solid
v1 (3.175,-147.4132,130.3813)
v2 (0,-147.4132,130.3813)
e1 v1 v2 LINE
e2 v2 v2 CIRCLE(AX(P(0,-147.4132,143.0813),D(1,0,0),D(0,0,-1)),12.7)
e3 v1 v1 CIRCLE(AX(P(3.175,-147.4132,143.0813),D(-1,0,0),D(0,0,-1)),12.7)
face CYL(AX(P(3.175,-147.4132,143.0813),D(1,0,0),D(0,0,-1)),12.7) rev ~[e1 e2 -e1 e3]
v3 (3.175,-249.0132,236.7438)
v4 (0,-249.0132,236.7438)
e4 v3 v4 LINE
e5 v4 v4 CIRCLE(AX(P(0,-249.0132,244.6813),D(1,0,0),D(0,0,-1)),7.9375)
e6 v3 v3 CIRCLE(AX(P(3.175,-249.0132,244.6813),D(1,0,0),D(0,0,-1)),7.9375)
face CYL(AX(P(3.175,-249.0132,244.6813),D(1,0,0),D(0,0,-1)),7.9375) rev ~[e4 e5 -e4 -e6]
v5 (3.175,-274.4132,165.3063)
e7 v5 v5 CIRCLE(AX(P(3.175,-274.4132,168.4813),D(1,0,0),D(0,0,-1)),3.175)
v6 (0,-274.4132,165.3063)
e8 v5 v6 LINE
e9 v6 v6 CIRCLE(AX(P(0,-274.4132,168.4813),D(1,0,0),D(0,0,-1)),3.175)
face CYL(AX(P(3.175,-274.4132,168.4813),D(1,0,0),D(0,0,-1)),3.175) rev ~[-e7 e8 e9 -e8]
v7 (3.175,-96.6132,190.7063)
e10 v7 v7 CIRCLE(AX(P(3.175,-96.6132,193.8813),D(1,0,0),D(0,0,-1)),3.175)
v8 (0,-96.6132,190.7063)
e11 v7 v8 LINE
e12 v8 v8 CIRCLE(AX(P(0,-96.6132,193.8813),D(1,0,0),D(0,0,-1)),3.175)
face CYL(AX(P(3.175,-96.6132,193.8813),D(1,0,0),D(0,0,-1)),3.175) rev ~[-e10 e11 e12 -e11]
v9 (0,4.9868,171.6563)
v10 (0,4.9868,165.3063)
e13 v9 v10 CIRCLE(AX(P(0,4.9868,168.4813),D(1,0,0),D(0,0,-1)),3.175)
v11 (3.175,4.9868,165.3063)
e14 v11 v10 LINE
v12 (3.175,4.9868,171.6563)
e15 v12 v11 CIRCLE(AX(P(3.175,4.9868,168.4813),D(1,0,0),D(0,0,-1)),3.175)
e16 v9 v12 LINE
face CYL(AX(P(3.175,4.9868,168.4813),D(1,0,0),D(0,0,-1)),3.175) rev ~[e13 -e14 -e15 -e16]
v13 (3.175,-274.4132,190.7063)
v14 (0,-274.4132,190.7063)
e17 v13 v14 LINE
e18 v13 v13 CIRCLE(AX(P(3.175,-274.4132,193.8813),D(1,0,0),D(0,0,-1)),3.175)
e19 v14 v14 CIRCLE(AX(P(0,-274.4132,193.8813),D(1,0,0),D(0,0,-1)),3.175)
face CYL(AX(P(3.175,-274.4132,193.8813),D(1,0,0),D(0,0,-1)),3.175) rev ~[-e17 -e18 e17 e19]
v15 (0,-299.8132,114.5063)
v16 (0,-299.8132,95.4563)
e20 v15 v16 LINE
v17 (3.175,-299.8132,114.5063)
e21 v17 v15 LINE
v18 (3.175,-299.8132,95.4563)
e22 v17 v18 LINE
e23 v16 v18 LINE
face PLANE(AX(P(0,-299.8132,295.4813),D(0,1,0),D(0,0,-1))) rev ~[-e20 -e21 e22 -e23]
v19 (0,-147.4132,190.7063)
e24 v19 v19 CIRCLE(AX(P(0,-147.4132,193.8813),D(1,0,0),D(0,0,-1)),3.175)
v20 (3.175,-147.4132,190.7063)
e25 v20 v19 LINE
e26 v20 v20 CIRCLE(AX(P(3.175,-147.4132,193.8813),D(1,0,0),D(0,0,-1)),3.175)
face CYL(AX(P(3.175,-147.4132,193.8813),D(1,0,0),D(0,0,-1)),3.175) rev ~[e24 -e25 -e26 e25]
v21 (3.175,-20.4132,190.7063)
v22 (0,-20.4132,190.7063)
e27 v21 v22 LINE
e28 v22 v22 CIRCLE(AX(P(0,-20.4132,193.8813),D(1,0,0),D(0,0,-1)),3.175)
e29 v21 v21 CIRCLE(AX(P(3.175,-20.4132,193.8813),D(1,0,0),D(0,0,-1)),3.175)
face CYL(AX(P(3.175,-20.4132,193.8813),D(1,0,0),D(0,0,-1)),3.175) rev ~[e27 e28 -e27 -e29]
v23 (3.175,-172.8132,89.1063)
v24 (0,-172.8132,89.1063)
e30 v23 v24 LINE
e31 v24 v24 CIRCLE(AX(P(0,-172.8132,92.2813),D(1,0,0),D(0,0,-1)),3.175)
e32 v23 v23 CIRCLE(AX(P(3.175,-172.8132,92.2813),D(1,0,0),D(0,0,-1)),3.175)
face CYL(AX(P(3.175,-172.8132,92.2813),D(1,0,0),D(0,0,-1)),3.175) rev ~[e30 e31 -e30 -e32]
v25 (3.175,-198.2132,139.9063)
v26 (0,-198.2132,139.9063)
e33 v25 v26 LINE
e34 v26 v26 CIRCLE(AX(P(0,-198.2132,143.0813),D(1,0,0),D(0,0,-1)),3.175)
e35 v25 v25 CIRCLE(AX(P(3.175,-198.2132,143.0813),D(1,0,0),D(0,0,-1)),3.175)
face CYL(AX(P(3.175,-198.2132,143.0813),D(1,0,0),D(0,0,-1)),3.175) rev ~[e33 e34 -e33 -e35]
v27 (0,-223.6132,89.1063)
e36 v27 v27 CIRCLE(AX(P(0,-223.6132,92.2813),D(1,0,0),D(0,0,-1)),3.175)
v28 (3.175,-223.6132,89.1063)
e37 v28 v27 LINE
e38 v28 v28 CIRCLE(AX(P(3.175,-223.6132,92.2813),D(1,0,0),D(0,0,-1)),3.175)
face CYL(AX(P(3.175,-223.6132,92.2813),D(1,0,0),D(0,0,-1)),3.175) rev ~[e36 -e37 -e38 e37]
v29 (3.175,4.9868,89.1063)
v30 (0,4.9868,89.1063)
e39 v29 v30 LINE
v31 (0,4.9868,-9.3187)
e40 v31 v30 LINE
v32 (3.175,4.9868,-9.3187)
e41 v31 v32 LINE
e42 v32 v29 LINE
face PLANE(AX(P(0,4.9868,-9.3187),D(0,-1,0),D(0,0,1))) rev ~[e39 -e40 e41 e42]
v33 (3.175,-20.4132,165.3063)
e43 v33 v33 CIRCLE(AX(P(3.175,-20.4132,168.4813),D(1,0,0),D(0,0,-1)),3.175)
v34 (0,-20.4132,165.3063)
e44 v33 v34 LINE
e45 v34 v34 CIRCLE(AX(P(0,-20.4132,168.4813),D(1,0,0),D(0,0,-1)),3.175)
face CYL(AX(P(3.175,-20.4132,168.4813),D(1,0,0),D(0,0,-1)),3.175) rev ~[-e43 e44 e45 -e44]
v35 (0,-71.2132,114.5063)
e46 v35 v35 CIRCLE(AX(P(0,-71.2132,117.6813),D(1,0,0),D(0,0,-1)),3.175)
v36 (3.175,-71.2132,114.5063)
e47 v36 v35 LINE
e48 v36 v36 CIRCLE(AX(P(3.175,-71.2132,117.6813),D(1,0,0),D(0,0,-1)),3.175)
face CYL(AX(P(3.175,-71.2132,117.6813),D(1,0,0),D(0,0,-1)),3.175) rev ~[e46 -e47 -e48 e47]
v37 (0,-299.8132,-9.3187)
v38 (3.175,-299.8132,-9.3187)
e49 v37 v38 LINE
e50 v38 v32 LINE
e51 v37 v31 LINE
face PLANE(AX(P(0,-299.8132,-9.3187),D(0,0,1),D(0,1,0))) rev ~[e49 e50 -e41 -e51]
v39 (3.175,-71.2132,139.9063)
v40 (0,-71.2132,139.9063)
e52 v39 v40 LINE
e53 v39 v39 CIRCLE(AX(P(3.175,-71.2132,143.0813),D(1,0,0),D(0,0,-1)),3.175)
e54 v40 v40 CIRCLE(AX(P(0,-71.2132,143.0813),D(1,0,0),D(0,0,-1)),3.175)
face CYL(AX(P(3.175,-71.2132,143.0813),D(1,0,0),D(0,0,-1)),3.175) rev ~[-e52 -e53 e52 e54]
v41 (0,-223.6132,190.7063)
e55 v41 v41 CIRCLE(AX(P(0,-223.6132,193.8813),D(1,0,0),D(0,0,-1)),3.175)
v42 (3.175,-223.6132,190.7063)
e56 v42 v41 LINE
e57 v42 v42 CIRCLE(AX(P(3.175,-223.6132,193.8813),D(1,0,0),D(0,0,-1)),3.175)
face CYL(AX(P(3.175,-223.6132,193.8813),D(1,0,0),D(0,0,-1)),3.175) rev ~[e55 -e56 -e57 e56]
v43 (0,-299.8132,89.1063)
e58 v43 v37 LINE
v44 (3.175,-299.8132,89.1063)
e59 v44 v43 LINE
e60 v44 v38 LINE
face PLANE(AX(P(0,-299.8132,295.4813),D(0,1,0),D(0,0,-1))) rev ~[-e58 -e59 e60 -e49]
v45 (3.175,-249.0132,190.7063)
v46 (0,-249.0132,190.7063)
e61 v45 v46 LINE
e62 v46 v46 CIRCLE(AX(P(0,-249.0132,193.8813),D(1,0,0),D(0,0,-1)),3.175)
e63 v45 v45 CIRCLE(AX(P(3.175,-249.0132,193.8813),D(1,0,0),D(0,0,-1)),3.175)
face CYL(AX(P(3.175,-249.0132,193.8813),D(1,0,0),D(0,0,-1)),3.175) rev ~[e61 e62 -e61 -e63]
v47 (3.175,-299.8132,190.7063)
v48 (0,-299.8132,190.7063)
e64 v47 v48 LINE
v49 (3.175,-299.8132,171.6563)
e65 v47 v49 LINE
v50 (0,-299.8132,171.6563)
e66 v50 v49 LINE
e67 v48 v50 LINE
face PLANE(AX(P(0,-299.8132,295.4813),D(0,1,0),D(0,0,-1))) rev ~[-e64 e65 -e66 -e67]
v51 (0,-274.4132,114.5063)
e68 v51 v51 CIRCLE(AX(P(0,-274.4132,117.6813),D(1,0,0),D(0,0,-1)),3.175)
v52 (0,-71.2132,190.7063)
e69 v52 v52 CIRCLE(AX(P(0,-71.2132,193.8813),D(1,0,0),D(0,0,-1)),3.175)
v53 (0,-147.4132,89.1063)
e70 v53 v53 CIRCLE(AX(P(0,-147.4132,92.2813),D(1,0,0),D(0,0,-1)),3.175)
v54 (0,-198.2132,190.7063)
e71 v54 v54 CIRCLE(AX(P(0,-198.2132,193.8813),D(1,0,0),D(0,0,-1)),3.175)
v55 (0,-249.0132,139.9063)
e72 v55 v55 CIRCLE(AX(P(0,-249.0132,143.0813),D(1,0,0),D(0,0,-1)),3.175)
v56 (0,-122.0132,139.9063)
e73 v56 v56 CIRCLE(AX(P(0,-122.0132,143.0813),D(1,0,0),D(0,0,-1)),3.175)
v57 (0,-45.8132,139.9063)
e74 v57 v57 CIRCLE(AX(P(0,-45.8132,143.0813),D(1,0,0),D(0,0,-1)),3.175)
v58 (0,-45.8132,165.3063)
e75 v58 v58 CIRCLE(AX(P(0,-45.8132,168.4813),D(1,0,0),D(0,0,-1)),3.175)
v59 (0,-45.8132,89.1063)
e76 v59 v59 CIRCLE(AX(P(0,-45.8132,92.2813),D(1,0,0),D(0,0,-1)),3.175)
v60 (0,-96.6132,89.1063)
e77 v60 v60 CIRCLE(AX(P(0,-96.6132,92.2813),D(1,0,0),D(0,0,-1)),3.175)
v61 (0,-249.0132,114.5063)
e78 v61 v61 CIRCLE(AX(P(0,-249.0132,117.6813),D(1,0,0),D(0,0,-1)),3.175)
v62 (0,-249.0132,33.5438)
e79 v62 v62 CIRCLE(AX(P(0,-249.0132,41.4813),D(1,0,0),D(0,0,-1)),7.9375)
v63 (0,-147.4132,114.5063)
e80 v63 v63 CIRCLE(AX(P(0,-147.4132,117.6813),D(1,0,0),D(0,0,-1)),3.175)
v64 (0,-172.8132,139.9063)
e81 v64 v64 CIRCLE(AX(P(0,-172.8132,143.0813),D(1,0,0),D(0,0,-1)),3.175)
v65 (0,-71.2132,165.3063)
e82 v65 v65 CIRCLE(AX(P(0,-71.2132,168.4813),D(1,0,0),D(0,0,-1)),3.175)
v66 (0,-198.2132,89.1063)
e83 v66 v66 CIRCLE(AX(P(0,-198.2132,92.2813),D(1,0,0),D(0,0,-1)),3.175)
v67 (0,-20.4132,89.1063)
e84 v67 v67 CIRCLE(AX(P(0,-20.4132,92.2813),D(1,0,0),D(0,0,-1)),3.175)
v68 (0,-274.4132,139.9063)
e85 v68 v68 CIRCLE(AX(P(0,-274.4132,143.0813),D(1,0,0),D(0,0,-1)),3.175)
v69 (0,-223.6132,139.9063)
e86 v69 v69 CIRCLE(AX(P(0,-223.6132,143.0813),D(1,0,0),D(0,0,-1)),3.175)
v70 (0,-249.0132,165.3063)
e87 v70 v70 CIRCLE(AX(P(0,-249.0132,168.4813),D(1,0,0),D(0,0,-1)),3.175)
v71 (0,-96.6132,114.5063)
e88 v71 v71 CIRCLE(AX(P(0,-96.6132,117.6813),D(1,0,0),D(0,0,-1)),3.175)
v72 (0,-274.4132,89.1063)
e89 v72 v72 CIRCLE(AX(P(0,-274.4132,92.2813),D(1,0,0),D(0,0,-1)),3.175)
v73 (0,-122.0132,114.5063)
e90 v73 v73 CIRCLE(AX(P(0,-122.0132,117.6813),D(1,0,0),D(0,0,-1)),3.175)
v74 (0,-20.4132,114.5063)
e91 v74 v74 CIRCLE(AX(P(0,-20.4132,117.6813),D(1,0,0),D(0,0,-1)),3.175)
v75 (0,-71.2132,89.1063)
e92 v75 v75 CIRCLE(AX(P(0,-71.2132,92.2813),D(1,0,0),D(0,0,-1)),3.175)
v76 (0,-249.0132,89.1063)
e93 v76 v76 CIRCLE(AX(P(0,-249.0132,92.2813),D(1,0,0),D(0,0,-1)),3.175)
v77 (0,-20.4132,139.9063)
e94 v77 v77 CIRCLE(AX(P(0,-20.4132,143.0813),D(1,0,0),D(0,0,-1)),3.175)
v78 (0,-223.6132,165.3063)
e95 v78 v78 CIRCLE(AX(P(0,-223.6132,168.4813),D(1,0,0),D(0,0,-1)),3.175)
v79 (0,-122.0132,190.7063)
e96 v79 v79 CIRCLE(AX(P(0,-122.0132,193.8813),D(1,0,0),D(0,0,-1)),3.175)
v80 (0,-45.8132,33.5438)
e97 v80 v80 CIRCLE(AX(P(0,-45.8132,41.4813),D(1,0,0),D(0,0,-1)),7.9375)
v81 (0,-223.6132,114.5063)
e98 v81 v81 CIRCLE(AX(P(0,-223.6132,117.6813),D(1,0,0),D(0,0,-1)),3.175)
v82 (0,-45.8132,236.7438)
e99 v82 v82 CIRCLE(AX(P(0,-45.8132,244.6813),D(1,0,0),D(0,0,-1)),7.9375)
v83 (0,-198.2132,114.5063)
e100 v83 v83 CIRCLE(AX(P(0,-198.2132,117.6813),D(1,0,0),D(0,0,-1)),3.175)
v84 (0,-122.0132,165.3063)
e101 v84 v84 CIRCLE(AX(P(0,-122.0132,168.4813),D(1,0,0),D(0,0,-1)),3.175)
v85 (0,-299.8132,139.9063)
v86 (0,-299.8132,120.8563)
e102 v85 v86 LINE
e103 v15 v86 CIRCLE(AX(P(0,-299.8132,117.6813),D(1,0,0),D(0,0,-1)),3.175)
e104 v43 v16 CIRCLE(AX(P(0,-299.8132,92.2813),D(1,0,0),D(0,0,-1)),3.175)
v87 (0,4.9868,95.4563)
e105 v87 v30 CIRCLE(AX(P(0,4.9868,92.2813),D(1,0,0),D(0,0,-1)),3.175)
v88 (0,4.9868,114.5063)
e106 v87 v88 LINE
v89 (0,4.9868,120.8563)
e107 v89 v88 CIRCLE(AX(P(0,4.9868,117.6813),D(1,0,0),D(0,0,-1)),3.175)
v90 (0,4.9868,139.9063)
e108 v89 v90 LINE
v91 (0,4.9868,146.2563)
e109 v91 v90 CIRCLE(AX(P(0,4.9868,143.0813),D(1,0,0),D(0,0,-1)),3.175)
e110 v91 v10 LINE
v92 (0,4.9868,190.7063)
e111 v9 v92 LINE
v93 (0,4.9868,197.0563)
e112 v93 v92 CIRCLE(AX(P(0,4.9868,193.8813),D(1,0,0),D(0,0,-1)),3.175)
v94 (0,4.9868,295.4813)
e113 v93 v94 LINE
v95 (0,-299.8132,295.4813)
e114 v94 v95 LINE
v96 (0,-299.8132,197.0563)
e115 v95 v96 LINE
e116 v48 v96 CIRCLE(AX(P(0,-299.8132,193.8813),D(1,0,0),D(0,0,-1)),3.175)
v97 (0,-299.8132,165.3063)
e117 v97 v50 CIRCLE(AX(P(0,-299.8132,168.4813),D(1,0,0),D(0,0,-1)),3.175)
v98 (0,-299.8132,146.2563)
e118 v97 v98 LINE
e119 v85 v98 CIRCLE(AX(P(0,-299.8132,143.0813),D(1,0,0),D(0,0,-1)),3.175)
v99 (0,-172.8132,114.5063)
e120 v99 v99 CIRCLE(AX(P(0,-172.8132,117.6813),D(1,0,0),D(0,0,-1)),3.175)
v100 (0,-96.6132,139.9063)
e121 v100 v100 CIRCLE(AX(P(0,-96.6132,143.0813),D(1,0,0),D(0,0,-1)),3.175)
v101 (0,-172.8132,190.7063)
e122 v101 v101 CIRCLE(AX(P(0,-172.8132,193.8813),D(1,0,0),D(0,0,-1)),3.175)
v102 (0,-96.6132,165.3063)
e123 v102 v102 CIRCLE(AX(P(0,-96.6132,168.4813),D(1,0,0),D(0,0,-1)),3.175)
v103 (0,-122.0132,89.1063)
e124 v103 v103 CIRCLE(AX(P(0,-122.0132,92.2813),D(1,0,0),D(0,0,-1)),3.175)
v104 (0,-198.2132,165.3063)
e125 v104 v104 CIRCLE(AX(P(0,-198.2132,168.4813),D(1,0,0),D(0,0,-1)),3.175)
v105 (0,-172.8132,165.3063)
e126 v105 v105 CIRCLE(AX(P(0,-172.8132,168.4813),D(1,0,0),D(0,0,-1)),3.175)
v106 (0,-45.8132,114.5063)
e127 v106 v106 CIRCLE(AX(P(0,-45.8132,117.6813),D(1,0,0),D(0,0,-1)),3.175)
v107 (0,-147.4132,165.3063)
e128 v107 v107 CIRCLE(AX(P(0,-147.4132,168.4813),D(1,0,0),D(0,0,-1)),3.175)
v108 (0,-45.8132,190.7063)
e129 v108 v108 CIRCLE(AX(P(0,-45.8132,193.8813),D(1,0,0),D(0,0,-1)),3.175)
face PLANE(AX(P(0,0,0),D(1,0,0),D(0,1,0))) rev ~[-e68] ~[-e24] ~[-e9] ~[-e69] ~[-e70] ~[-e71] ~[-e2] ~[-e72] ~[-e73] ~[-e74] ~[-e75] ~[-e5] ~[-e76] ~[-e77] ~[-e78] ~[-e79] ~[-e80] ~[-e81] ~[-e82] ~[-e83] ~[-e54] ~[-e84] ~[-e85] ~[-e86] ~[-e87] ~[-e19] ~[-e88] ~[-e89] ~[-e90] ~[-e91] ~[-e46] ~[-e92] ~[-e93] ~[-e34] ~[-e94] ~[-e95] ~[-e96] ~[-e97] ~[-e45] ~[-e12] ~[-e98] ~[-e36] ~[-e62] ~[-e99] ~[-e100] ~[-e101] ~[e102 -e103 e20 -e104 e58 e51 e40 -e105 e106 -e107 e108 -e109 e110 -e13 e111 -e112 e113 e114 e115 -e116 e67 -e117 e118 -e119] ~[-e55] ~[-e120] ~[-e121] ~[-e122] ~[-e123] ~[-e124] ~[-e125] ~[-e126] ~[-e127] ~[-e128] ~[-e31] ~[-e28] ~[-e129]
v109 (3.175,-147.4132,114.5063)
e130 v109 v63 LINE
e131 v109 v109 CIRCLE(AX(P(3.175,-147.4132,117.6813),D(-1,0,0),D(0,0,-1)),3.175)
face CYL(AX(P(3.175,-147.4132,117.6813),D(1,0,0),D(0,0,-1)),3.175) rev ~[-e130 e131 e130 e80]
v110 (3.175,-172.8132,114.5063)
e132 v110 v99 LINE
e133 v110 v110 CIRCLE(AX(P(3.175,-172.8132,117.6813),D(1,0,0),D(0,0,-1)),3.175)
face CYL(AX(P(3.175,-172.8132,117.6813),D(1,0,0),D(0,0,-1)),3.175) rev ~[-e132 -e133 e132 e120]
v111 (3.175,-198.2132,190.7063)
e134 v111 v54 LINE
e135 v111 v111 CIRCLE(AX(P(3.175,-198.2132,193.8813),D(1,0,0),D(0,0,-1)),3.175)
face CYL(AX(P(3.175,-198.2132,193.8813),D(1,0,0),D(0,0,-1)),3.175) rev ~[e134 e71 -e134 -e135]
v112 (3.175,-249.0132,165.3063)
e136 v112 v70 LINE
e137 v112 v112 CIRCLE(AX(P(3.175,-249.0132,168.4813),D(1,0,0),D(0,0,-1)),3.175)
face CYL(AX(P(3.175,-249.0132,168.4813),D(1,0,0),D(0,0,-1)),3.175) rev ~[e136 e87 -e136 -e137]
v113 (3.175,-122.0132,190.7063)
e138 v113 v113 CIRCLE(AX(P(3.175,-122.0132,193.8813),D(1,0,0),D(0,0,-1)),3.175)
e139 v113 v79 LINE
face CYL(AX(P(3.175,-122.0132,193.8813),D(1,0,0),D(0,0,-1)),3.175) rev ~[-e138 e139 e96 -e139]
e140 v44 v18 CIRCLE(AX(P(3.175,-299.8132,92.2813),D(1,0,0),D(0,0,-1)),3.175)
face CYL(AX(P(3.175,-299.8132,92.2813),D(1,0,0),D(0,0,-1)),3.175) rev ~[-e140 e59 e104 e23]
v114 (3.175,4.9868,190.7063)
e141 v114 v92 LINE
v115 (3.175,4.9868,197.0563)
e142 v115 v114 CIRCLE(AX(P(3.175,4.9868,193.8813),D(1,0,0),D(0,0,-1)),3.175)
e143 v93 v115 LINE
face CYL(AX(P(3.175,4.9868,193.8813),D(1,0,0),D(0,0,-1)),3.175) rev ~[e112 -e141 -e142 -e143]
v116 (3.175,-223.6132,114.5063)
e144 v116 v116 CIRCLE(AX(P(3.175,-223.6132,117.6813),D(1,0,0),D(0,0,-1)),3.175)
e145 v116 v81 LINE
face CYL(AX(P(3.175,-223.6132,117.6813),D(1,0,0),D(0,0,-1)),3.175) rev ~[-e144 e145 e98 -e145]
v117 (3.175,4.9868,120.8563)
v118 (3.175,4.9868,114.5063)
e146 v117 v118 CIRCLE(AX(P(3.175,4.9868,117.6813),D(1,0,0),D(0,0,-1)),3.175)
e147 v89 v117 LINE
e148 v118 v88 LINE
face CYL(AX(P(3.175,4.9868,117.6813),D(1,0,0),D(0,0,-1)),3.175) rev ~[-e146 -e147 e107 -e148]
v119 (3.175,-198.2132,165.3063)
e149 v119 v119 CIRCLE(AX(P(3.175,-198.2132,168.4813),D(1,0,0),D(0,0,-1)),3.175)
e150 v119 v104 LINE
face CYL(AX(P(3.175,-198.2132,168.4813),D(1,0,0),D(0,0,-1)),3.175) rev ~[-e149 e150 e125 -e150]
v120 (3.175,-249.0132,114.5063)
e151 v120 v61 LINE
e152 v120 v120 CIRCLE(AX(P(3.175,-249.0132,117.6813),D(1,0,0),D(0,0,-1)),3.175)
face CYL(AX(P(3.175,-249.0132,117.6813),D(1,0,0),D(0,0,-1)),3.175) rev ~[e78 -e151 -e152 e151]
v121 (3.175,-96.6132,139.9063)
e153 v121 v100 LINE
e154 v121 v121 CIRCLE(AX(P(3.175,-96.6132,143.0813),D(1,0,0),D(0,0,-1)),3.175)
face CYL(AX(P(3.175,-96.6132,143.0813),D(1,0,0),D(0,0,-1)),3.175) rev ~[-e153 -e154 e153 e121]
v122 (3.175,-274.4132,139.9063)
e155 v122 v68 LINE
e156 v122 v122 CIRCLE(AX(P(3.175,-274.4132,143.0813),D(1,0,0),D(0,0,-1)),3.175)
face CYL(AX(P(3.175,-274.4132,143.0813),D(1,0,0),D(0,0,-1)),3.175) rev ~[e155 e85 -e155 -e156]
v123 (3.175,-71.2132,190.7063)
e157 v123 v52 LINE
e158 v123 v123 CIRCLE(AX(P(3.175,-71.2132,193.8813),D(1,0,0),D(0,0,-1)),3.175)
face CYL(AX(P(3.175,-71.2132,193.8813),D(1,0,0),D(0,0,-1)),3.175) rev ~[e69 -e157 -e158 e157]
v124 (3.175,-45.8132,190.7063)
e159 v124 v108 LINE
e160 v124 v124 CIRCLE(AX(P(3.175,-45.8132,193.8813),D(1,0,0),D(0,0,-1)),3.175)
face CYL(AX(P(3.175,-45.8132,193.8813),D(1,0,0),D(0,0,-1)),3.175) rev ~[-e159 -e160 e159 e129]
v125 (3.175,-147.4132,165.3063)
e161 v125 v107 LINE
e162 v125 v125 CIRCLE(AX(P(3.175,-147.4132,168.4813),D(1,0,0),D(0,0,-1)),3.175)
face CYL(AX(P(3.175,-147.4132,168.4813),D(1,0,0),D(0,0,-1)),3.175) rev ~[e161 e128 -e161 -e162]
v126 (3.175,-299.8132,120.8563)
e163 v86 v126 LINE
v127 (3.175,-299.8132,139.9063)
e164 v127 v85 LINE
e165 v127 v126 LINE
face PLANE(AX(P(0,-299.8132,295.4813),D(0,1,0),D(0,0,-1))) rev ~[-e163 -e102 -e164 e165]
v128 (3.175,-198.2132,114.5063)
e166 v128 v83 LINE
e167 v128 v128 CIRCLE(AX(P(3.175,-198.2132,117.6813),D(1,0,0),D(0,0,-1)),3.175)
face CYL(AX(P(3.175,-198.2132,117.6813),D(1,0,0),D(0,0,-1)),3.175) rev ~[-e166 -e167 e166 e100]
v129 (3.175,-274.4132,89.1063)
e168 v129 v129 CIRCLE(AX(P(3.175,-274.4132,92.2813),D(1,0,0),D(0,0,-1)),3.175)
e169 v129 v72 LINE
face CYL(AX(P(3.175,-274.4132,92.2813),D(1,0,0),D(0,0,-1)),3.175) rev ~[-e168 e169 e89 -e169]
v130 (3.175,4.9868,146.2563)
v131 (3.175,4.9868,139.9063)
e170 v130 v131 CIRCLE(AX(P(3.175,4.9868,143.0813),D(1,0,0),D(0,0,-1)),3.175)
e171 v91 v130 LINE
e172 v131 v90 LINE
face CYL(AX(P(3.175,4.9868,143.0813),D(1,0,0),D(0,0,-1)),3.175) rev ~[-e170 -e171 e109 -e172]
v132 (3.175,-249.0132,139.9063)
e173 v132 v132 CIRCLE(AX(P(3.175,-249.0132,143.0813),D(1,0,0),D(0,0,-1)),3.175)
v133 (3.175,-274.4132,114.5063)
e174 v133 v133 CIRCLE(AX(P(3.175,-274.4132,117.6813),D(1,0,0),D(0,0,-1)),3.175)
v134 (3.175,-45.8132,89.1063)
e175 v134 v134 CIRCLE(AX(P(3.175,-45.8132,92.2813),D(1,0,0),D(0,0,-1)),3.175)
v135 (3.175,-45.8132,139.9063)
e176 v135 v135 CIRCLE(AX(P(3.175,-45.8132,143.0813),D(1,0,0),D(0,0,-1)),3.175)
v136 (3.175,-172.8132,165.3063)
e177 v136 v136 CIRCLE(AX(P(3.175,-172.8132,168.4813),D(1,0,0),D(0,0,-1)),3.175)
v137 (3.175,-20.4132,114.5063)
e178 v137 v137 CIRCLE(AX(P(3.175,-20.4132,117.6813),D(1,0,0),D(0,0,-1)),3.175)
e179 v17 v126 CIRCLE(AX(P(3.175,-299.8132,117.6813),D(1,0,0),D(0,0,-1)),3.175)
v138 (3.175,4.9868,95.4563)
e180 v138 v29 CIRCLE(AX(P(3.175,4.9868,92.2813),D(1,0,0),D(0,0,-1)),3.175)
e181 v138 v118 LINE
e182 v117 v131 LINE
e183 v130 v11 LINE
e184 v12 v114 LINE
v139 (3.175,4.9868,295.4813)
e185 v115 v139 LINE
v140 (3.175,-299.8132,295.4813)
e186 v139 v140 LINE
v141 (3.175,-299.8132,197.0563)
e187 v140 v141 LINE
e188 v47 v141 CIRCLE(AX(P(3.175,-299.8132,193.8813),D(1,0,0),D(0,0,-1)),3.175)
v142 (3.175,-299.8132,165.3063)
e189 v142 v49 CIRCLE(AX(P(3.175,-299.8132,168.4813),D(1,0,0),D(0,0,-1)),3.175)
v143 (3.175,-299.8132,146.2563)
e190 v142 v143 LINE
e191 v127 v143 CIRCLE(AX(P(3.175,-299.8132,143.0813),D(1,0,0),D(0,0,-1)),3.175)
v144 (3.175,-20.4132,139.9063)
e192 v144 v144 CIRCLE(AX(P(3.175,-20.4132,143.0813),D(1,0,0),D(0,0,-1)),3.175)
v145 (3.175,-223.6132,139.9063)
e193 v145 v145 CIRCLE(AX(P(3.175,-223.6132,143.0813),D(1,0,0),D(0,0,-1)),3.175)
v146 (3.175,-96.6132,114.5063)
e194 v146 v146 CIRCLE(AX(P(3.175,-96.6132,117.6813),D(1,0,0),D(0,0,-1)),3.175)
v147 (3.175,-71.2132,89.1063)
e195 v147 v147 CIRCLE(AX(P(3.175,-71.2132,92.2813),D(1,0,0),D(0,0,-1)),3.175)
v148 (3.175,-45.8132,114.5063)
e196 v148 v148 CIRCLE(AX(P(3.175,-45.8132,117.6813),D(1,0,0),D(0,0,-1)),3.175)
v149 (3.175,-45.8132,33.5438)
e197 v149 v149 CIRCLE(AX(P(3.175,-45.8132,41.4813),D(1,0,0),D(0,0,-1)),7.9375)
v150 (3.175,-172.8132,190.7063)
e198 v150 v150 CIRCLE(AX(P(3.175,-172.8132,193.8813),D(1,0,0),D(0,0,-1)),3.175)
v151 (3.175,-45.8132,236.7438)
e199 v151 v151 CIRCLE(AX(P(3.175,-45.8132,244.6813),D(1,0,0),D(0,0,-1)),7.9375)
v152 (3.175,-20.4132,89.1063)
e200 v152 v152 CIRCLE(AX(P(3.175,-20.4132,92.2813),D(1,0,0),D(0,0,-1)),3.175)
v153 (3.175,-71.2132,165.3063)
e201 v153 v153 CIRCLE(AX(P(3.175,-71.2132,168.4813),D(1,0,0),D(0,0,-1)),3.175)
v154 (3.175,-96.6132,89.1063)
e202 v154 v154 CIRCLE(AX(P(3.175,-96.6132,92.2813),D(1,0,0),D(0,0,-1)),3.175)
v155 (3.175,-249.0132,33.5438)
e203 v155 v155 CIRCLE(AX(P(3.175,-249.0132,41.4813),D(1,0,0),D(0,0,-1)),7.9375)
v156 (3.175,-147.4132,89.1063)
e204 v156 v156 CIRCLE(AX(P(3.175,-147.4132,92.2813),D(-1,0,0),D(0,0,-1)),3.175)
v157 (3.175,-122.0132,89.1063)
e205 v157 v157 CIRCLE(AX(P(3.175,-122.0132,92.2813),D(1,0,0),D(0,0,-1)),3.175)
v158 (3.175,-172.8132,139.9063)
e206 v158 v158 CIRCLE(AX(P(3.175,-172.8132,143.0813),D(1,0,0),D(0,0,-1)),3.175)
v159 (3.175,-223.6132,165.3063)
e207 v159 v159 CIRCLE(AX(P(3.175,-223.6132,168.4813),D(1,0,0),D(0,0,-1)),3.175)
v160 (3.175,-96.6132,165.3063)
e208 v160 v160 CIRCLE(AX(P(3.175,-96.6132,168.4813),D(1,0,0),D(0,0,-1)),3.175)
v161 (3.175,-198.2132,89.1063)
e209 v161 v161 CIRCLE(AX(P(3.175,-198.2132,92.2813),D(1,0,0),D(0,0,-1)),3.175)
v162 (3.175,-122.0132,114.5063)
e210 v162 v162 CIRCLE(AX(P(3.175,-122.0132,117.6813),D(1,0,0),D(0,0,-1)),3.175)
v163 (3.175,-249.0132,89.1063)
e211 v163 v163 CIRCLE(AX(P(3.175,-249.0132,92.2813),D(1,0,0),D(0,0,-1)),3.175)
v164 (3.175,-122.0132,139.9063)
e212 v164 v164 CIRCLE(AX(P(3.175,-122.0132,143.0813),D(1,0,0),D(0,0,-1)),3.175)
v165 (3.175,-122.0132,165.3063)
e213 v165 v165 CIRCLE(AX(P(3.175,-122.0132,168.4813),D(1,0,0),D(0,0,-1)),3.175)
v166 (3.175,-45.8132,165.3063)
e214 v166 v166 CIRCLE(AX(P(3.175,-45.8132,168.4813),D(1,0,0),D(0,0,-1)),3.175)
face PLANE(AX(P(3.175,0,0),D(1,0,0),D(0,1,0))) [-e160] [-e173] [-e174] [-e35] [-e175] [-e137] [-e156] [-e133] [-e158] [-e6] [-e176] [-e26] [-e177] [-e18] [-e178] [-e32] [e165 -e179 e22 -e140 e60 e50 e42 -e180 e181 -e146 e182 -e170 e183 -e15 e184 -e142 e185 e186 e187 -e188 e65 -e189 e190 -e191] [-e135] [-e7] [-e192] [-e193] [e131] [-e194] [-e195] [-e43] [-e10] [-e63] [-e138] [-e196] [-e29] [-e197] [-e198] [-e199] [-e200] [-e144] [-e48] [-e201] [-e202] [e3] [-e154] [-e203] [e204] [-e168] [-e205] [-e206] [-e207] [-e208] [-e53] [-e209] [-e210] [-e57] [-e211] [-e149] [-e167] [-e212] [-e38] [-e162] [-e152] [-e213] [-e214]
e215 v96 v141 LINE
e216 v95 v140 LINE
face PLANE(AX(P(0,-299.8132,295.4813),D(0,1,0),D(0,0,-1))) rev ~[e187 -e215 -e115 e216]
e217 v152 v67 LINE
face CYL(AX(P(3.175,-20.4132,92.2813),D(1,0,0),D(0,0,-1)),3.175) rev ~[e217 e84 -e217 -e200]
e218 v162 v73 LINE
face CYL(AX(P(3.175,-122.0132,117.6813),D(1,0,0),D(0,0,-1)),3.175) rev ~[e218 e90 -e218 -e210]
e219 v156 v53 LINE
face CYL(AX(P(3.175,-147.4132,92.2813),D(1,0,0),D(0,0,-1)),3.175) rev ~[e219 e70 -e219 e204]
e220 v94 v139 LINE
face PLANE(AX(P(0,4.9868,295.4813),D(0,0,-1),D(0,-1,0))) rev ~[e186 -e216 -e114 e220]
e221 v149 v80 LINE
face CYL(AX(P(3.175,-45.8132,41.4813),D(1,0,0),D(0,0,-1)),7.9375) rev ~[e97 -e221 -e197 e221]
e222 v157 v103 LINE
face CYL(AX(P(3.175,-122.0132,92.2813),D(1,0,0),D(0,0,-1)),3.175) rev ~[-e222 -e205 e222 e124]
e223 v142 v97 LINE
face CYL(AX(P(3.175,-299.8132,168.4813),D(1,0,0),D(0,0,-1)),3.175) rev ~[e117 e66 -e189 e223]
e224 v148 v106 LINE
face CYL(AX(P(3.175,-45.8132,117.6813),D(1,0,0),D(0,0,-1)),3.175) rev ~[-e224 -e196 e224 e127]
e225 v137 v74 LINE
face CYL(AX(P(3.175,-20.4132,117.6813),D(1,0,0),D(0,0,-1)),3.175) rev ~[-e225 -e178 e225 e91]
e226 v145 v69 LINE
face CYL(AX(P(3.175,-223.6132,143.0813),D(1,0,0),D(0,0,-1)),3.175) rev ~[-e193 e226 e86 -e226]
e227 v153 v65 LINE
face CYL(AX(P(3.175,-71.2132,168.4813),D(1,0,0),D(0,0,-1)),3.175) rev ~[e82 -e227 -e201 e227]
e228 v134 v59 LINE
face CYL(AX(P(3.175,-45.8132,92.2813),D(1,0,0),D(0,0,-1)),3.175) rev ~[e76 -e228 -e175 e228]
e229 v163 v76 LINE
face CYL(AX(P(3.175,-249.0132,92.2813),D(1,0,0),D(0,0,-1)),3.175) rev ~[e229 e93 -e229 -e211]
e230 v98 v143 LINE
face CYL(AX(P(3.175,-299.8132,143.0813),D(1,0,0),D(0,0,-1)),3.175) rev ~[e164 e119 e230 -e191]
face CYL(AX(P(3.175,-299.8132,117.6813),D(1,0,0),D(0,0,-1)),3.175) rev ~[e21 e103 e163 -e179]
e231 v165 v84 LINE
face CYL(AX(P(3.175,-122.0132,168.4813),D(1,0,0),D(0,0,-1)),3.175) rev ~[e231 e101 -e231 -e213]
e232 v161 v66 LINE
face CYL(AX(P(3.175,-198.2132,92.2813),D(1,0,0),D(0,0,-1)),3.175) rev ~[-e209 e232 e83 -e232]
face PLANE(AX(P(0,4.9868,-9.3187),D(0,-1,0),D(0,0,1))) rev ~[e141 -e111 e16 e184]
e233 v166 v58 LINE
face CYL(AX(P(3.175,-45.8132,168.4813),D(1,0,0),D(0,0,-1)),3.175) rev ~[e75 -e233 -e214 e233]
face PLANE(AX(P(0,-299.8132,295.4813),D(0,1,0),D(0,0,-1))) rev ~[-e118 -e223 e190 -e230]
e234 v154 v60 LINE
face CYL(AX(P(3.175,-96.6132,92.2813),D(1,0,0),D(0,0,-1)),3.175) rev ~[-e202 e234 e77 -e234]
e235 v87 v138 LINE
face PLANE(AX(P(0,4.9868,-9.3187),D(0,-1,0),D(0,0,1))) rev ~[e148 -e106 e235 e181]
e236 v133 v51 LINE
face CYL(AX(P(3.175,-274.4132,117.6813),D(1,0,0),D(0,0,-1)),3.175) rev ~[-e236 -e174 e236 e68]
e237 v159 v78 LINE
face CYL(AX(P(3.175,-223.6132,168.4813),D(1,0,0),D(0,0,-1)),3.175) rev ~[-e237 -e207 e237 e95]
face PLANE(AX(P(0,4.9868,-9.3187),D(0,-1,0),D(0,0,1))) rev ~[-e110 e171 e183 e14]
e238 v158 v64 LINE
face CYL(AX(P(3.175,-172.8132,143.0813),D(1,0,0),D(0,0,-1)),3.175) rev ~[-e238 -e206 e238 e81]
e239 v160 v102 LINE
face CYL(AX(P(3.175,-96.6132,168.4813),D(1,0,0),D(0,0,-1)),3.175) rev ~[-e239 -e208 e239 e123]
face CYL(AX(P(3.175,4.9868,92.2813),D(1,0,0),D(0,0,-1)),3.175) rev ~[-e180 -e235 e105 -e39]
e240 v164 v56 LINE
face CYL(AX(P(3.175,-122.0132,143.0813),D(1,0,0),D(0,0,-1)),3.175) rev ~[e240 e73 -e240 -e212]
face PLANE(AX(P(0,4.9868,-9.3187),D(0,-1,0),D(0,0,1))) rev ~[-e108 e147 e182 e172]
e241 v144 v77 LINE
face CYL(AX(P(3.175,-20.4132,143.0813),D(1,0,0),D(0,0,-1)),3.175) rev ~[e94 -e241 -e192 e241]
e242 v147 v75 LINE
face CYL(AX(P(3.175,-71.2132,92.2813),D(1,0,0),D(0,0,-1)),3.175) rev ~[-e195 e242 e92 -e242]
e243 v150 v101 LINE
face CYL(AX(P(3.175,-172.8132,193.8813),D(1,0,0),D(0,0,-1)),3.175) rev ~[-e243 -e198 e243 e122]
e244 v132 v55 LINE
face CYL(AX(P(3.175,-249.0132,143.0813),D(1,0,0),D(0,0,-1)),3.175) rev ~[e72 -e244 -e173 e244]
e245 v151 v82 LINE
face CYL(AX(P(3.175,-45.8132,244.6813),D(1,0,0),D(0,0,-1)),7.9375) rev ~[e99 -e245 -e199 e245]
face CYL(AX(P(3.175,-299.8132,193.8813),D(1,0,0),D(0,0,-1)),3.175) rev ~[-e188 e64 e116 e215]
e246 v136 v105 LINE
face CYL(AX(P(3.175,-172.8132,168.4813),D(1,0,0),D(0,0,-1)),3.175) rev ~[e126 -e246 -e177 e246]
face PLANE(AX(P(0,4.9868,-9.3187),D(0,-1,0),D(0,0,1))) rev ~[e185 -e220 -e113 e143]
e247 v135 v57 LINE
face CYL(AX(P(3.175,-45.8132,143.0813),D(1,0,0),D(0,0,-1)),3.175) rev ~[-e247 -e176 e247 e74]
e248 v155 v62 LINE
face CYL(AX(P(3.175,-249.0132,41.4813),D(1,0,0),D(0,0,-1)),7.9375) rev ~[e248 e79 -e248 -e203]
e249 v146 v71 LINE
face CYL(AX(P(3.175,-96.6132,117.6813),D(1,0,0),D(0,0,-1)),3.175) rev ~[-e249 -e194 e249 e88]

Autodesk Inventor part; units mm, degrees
ref_plane "YZ Plane" through (0, 0, 0) normal (1, 0, 0) x (0, 1, 0)
ref_plane "XZ Plane" through (0, 0, 0) normal (0, 1, 0) x (-1, 0, 0)
ref_plane "XY Plane" through (0, 0, 0) normal (0, 0, 1) x (1, 0, 0)
sketch "Sketch1" plane through (0, 0, 0) normal (1, 0, 0) x (0, 1, 0)
  line L0 (4.9868, 295.4813) -> (-299.8132, 295.4813)
  line L1 (-299.8132, 295.4813) -> (-299.8132, -9.3187)
  line L2 (-299.8132, -9.3187) -> (4.9868, -9.3187)
  line L3 (4.9868, -9.3187) -> (4.9868, 295.4813)
  point P0 (0, 0)
  dimension "d0" = 304.8
  dimension "d1" = 304.8
extrude "Extrusion1" add sketch "Sketch1" along normal blind 3.175
sketch "Sketch2" plane through (3.175, 0, 0) normal (1, 0, 0) x (0, 0, -1)
  line L0 (-143.0813, 4.9868) -> (-143.0813, -147.4132)
  circle A0 centre (-143.0813, -147.4132) radius 12.7
  point P0 (0, 0)
  point P1 (9.3187, 4.9868)
  dimension "d4" = 152.4
  dimension "d5" = 25.4
extrude "Extrusion2" cut sketch "Sketch2" against normal blind 50.8
sketch "Sketch3" plane through (3.175, 0, 0) normal (1, 0, 0) x (0, 0, -1)
  circle A0 centre (-143.0813, -147.4132) radius 12.7 projected
  circle A1 centre (-143.0813, -122.0132) radius 3.175
  circle A2 centre (-143.0813, -96.6132) radius 3.175
  circle A3 centre (-143.0813, -71.2132) radius 3.175
  circle A4 centre (-143.0813, -45.8132) radius 3.175
  circle A5 centre (-143.0813, -20.4132) radius 3.175
  circle A6 centre (-143.0813, 4.9868) radius 3.175
  line L0 (9.3187, -299.8132) -> (9.3187, 4.9868) projected
  circle A7 centre (-143.0813, -172.8132) radius 3.175
  circle A8 centre (-143.0813, -198.2132) radius 3.175
  circle A9 centre (-143.0813, -249.0132) radius 3.175
  circle A10 centre (-143.0813, -223.6132) radius 3.175
  circle A11 centre (-143.0813, -299.8132) radius 3.175
  circle A12 centre (-143.0813, -274.4132) radius 3.175
  circle A13 centre (-168.4813, -122.0132) radius 3.175
  circle A14 centre (-168.4813, -96.6132) radius 3.175
  circle A15 centre (-168.4813, -45.8132) radius 3.175
  circle A16 centre (-168.4813, -71.2132) radius 3.175
  circle A17 centre (-168.4813, 4.9868) radius 3.175
  circle A18 centre (-168.4813, -20.4132) radius 3.175
  circle A19 centre (-168.4813, -299.8132) radius 3.175
  circle A20 centre (-168.4813, -249.0132) radius 3.175
  circle A21 centre (-168.4813, -274.4132) radius 3.175
  circle A22 centre (-168.4813, -223.6132) radius 3.175
  circle A23 centre (-168.4813, -198.2132) radius 3.175
  circle A24 centre (-168.4813, -172.8132) radius 3.175
  circle A25 centre (-117.6813, -122.0132) radius 3.175
  circle A26 centre (-117.6813, -96.6132) radius 3.175
  circle A27 centre (-117.6813, -45.8132) radius 3.175
  circle A28 centre (-117.6813, -71.2132) radius 3.175
  circle A29 centre (-117.6813, 4.9868) radius 3.175
  circle A30 centre (-117.6813, -20.4132) radius 3.175
  circle A31 centre (-117.6813, -299.8132) radius 3.175
  circle A32 centre (-117.6813, -249.0132) radius 3.175
  circle A33 centre (-117.6813, -274.4132) radius 3.175
  circle A34 centre (-117.6813, -223.6132) radius 3.175
  circle A35 centre (-117.6813, -198.2132) radius 3.175
  circle A36 centre (-117.6813, -172.8132) radius 3.175
  circle A37 centre (-193.8813, -122.0132) radius 3.175
  circle A38 centre (-193.8813, -96.6132) radius 3.175
  circle A39 centre (-193.8813, -45.8132) radius 3.175
  circle A40 centre (-193.8813, -71.2132) radius 3.175
  circle A41 centre (-193.8813, 4.9868) radius 3.175
  circle A42 centre (-193.8813, -20.4132) radius 3.175
  circle A43 centre (-193.8813, -299.8132) radius 3.175
  circle A44 centre (-193.8813, -249.0132) radius 3.175
  circle A45 centre (-193.8813, -274.4132) radius 3.175
  circle A46 centre (-193.8813, -223.6132) radius 3.175
  circle A47 centre (-193.8813, -198.2132) radius 3.175
  circle A48 centre (-193.8813, -172.8132) radius 3.175
  circle A49 centre (-92.2813, -122.0132) radius 3.175
  circle A50 centre (-92.2813, -96.6132) radius 3.175
  circle A51 centre (-92.2813, -45.8132) radius 3.175
  circle A52 centre (-92.2813, -71.2132) radius 3.175
  circle A53 centre (-92.2813, 4.9868) radius 3.175
  circle A54 centre (-92.2813, -20.4132) radius 3.175
  circle A55 centre (-92.2813, -299.8132) radius 3.175
  circle A56 centre (-92.2813, -249.0132) radius 3.175
  circle A57 centre (-92.2813, -274.4132) radius 3.175
  circle A58 centre (-92.2813, -223.6132) radius 3.175
  circle A59 centre (-92.2813, -198.2132) radius 3.175
  circle A60 centre (-92.2813, -172.8132) radius 3.175
  point P0 (0, 0)
  dimension "d9" = 6.35
  dimension "d11" = 6.35
  dimension "d12" = 6.35
  dimension "d13" = 6.35
  dimension "d14" = 6.35
  dimension "d15" = 6.35
  dimension "d18" = 6.35
  dimension "d19" = 6.35
  dimension "d20" = 6.35
  dimension "d21" = 6.35
  dimension "d22" = 6.35
  dimension "d23" = 6.35
  dimension "d24" = 6.35
  dimension "d25" = 6.35
  dimension "d26" = 6.35
  dimension "d27" = 6.35
  dimension "d28" = 6.35
  dimension "d29" = 6.35
  dimension "d33" = 6.35
  dimension "d35" = 6.35
  dimension "d36" = 6.35
  dimension "d37" = 6.35
  dimension "d38" = 6.35
  dimension "d39" = 6.35
  dimension "d41" = 6.35
  dimension "d43" = 6.35
  dimension "d44" = 6.35
  dimension "d45" = 6.35
  dimension "d46" = 6.35
  dimension "d47" = 6.35
extrude "Extrusion3" cut sketch "Sketch3" against normal blind 50.8
sketch "Sketch4" plane through (3.175, 0, 0) normal (1, 0, 0) x (0, 0, -1)
  circle A0 centre (-143.0813, -147.4132) radius 12.7 projected
  line L0 (-143.0813, -147.4132) -> (-117.6813, -147.4132)
  line L1 (-117.6813, -147.4132) -> (-92.2813, -147.4132)
  circle A1 centre (-92.2813, -147.4132) radius 3.175
  circle A2 centre (-117.6813, -147.4132) radius 3.175
  circle A3 centre (-193.8813, -147.4132) radius 3.175
  circle A4 centre (-168.4813, -147.4132) radius 3.175
  point P0 (0, 0)
  dimension "d54" = 25.4
  dimension "d55" = 25.4
  dimension "d56" = 6.35
  dimension "d57" = 6.35
extrude "Extrusion4" cut sketch "Sketch4" against normal blind 50.8 contours A1 | A2 L1 L0 | L0 L1 A2 | A3 | A4
sketch "Sketch5" plane through (3.175, 0, 0) normal (1, 0, 0) x (0, 0, -1)
  line L0 (-295.4813, 4.9868) -> (-295.4813, -299.8132) projected
  circle A0 centre (-244.6813, -249.0132) radius 7.9375
  circle A1 centre (-41.4813, -249.0132) radius 7.9375
  line L1 (-244.6813, -249.0132) -> (-244.6813, -45.8132) construction
  circle A2 centre (-244.6813, -45.8132) radius 7.9375
  circle A3 centre (-41.4813, -45.8132) radius 7.9375
  point P0 (0, 0)
  dimension "d63" = 15.875
  dimension "d67" = 203.2
  dimension "d69" = 15.875
  dimension "d70" = 15.875
extrude "Extrusion5" cut sketch "Sketch5" against normal blind 914.4
properties part number "Drill Jig Base"
